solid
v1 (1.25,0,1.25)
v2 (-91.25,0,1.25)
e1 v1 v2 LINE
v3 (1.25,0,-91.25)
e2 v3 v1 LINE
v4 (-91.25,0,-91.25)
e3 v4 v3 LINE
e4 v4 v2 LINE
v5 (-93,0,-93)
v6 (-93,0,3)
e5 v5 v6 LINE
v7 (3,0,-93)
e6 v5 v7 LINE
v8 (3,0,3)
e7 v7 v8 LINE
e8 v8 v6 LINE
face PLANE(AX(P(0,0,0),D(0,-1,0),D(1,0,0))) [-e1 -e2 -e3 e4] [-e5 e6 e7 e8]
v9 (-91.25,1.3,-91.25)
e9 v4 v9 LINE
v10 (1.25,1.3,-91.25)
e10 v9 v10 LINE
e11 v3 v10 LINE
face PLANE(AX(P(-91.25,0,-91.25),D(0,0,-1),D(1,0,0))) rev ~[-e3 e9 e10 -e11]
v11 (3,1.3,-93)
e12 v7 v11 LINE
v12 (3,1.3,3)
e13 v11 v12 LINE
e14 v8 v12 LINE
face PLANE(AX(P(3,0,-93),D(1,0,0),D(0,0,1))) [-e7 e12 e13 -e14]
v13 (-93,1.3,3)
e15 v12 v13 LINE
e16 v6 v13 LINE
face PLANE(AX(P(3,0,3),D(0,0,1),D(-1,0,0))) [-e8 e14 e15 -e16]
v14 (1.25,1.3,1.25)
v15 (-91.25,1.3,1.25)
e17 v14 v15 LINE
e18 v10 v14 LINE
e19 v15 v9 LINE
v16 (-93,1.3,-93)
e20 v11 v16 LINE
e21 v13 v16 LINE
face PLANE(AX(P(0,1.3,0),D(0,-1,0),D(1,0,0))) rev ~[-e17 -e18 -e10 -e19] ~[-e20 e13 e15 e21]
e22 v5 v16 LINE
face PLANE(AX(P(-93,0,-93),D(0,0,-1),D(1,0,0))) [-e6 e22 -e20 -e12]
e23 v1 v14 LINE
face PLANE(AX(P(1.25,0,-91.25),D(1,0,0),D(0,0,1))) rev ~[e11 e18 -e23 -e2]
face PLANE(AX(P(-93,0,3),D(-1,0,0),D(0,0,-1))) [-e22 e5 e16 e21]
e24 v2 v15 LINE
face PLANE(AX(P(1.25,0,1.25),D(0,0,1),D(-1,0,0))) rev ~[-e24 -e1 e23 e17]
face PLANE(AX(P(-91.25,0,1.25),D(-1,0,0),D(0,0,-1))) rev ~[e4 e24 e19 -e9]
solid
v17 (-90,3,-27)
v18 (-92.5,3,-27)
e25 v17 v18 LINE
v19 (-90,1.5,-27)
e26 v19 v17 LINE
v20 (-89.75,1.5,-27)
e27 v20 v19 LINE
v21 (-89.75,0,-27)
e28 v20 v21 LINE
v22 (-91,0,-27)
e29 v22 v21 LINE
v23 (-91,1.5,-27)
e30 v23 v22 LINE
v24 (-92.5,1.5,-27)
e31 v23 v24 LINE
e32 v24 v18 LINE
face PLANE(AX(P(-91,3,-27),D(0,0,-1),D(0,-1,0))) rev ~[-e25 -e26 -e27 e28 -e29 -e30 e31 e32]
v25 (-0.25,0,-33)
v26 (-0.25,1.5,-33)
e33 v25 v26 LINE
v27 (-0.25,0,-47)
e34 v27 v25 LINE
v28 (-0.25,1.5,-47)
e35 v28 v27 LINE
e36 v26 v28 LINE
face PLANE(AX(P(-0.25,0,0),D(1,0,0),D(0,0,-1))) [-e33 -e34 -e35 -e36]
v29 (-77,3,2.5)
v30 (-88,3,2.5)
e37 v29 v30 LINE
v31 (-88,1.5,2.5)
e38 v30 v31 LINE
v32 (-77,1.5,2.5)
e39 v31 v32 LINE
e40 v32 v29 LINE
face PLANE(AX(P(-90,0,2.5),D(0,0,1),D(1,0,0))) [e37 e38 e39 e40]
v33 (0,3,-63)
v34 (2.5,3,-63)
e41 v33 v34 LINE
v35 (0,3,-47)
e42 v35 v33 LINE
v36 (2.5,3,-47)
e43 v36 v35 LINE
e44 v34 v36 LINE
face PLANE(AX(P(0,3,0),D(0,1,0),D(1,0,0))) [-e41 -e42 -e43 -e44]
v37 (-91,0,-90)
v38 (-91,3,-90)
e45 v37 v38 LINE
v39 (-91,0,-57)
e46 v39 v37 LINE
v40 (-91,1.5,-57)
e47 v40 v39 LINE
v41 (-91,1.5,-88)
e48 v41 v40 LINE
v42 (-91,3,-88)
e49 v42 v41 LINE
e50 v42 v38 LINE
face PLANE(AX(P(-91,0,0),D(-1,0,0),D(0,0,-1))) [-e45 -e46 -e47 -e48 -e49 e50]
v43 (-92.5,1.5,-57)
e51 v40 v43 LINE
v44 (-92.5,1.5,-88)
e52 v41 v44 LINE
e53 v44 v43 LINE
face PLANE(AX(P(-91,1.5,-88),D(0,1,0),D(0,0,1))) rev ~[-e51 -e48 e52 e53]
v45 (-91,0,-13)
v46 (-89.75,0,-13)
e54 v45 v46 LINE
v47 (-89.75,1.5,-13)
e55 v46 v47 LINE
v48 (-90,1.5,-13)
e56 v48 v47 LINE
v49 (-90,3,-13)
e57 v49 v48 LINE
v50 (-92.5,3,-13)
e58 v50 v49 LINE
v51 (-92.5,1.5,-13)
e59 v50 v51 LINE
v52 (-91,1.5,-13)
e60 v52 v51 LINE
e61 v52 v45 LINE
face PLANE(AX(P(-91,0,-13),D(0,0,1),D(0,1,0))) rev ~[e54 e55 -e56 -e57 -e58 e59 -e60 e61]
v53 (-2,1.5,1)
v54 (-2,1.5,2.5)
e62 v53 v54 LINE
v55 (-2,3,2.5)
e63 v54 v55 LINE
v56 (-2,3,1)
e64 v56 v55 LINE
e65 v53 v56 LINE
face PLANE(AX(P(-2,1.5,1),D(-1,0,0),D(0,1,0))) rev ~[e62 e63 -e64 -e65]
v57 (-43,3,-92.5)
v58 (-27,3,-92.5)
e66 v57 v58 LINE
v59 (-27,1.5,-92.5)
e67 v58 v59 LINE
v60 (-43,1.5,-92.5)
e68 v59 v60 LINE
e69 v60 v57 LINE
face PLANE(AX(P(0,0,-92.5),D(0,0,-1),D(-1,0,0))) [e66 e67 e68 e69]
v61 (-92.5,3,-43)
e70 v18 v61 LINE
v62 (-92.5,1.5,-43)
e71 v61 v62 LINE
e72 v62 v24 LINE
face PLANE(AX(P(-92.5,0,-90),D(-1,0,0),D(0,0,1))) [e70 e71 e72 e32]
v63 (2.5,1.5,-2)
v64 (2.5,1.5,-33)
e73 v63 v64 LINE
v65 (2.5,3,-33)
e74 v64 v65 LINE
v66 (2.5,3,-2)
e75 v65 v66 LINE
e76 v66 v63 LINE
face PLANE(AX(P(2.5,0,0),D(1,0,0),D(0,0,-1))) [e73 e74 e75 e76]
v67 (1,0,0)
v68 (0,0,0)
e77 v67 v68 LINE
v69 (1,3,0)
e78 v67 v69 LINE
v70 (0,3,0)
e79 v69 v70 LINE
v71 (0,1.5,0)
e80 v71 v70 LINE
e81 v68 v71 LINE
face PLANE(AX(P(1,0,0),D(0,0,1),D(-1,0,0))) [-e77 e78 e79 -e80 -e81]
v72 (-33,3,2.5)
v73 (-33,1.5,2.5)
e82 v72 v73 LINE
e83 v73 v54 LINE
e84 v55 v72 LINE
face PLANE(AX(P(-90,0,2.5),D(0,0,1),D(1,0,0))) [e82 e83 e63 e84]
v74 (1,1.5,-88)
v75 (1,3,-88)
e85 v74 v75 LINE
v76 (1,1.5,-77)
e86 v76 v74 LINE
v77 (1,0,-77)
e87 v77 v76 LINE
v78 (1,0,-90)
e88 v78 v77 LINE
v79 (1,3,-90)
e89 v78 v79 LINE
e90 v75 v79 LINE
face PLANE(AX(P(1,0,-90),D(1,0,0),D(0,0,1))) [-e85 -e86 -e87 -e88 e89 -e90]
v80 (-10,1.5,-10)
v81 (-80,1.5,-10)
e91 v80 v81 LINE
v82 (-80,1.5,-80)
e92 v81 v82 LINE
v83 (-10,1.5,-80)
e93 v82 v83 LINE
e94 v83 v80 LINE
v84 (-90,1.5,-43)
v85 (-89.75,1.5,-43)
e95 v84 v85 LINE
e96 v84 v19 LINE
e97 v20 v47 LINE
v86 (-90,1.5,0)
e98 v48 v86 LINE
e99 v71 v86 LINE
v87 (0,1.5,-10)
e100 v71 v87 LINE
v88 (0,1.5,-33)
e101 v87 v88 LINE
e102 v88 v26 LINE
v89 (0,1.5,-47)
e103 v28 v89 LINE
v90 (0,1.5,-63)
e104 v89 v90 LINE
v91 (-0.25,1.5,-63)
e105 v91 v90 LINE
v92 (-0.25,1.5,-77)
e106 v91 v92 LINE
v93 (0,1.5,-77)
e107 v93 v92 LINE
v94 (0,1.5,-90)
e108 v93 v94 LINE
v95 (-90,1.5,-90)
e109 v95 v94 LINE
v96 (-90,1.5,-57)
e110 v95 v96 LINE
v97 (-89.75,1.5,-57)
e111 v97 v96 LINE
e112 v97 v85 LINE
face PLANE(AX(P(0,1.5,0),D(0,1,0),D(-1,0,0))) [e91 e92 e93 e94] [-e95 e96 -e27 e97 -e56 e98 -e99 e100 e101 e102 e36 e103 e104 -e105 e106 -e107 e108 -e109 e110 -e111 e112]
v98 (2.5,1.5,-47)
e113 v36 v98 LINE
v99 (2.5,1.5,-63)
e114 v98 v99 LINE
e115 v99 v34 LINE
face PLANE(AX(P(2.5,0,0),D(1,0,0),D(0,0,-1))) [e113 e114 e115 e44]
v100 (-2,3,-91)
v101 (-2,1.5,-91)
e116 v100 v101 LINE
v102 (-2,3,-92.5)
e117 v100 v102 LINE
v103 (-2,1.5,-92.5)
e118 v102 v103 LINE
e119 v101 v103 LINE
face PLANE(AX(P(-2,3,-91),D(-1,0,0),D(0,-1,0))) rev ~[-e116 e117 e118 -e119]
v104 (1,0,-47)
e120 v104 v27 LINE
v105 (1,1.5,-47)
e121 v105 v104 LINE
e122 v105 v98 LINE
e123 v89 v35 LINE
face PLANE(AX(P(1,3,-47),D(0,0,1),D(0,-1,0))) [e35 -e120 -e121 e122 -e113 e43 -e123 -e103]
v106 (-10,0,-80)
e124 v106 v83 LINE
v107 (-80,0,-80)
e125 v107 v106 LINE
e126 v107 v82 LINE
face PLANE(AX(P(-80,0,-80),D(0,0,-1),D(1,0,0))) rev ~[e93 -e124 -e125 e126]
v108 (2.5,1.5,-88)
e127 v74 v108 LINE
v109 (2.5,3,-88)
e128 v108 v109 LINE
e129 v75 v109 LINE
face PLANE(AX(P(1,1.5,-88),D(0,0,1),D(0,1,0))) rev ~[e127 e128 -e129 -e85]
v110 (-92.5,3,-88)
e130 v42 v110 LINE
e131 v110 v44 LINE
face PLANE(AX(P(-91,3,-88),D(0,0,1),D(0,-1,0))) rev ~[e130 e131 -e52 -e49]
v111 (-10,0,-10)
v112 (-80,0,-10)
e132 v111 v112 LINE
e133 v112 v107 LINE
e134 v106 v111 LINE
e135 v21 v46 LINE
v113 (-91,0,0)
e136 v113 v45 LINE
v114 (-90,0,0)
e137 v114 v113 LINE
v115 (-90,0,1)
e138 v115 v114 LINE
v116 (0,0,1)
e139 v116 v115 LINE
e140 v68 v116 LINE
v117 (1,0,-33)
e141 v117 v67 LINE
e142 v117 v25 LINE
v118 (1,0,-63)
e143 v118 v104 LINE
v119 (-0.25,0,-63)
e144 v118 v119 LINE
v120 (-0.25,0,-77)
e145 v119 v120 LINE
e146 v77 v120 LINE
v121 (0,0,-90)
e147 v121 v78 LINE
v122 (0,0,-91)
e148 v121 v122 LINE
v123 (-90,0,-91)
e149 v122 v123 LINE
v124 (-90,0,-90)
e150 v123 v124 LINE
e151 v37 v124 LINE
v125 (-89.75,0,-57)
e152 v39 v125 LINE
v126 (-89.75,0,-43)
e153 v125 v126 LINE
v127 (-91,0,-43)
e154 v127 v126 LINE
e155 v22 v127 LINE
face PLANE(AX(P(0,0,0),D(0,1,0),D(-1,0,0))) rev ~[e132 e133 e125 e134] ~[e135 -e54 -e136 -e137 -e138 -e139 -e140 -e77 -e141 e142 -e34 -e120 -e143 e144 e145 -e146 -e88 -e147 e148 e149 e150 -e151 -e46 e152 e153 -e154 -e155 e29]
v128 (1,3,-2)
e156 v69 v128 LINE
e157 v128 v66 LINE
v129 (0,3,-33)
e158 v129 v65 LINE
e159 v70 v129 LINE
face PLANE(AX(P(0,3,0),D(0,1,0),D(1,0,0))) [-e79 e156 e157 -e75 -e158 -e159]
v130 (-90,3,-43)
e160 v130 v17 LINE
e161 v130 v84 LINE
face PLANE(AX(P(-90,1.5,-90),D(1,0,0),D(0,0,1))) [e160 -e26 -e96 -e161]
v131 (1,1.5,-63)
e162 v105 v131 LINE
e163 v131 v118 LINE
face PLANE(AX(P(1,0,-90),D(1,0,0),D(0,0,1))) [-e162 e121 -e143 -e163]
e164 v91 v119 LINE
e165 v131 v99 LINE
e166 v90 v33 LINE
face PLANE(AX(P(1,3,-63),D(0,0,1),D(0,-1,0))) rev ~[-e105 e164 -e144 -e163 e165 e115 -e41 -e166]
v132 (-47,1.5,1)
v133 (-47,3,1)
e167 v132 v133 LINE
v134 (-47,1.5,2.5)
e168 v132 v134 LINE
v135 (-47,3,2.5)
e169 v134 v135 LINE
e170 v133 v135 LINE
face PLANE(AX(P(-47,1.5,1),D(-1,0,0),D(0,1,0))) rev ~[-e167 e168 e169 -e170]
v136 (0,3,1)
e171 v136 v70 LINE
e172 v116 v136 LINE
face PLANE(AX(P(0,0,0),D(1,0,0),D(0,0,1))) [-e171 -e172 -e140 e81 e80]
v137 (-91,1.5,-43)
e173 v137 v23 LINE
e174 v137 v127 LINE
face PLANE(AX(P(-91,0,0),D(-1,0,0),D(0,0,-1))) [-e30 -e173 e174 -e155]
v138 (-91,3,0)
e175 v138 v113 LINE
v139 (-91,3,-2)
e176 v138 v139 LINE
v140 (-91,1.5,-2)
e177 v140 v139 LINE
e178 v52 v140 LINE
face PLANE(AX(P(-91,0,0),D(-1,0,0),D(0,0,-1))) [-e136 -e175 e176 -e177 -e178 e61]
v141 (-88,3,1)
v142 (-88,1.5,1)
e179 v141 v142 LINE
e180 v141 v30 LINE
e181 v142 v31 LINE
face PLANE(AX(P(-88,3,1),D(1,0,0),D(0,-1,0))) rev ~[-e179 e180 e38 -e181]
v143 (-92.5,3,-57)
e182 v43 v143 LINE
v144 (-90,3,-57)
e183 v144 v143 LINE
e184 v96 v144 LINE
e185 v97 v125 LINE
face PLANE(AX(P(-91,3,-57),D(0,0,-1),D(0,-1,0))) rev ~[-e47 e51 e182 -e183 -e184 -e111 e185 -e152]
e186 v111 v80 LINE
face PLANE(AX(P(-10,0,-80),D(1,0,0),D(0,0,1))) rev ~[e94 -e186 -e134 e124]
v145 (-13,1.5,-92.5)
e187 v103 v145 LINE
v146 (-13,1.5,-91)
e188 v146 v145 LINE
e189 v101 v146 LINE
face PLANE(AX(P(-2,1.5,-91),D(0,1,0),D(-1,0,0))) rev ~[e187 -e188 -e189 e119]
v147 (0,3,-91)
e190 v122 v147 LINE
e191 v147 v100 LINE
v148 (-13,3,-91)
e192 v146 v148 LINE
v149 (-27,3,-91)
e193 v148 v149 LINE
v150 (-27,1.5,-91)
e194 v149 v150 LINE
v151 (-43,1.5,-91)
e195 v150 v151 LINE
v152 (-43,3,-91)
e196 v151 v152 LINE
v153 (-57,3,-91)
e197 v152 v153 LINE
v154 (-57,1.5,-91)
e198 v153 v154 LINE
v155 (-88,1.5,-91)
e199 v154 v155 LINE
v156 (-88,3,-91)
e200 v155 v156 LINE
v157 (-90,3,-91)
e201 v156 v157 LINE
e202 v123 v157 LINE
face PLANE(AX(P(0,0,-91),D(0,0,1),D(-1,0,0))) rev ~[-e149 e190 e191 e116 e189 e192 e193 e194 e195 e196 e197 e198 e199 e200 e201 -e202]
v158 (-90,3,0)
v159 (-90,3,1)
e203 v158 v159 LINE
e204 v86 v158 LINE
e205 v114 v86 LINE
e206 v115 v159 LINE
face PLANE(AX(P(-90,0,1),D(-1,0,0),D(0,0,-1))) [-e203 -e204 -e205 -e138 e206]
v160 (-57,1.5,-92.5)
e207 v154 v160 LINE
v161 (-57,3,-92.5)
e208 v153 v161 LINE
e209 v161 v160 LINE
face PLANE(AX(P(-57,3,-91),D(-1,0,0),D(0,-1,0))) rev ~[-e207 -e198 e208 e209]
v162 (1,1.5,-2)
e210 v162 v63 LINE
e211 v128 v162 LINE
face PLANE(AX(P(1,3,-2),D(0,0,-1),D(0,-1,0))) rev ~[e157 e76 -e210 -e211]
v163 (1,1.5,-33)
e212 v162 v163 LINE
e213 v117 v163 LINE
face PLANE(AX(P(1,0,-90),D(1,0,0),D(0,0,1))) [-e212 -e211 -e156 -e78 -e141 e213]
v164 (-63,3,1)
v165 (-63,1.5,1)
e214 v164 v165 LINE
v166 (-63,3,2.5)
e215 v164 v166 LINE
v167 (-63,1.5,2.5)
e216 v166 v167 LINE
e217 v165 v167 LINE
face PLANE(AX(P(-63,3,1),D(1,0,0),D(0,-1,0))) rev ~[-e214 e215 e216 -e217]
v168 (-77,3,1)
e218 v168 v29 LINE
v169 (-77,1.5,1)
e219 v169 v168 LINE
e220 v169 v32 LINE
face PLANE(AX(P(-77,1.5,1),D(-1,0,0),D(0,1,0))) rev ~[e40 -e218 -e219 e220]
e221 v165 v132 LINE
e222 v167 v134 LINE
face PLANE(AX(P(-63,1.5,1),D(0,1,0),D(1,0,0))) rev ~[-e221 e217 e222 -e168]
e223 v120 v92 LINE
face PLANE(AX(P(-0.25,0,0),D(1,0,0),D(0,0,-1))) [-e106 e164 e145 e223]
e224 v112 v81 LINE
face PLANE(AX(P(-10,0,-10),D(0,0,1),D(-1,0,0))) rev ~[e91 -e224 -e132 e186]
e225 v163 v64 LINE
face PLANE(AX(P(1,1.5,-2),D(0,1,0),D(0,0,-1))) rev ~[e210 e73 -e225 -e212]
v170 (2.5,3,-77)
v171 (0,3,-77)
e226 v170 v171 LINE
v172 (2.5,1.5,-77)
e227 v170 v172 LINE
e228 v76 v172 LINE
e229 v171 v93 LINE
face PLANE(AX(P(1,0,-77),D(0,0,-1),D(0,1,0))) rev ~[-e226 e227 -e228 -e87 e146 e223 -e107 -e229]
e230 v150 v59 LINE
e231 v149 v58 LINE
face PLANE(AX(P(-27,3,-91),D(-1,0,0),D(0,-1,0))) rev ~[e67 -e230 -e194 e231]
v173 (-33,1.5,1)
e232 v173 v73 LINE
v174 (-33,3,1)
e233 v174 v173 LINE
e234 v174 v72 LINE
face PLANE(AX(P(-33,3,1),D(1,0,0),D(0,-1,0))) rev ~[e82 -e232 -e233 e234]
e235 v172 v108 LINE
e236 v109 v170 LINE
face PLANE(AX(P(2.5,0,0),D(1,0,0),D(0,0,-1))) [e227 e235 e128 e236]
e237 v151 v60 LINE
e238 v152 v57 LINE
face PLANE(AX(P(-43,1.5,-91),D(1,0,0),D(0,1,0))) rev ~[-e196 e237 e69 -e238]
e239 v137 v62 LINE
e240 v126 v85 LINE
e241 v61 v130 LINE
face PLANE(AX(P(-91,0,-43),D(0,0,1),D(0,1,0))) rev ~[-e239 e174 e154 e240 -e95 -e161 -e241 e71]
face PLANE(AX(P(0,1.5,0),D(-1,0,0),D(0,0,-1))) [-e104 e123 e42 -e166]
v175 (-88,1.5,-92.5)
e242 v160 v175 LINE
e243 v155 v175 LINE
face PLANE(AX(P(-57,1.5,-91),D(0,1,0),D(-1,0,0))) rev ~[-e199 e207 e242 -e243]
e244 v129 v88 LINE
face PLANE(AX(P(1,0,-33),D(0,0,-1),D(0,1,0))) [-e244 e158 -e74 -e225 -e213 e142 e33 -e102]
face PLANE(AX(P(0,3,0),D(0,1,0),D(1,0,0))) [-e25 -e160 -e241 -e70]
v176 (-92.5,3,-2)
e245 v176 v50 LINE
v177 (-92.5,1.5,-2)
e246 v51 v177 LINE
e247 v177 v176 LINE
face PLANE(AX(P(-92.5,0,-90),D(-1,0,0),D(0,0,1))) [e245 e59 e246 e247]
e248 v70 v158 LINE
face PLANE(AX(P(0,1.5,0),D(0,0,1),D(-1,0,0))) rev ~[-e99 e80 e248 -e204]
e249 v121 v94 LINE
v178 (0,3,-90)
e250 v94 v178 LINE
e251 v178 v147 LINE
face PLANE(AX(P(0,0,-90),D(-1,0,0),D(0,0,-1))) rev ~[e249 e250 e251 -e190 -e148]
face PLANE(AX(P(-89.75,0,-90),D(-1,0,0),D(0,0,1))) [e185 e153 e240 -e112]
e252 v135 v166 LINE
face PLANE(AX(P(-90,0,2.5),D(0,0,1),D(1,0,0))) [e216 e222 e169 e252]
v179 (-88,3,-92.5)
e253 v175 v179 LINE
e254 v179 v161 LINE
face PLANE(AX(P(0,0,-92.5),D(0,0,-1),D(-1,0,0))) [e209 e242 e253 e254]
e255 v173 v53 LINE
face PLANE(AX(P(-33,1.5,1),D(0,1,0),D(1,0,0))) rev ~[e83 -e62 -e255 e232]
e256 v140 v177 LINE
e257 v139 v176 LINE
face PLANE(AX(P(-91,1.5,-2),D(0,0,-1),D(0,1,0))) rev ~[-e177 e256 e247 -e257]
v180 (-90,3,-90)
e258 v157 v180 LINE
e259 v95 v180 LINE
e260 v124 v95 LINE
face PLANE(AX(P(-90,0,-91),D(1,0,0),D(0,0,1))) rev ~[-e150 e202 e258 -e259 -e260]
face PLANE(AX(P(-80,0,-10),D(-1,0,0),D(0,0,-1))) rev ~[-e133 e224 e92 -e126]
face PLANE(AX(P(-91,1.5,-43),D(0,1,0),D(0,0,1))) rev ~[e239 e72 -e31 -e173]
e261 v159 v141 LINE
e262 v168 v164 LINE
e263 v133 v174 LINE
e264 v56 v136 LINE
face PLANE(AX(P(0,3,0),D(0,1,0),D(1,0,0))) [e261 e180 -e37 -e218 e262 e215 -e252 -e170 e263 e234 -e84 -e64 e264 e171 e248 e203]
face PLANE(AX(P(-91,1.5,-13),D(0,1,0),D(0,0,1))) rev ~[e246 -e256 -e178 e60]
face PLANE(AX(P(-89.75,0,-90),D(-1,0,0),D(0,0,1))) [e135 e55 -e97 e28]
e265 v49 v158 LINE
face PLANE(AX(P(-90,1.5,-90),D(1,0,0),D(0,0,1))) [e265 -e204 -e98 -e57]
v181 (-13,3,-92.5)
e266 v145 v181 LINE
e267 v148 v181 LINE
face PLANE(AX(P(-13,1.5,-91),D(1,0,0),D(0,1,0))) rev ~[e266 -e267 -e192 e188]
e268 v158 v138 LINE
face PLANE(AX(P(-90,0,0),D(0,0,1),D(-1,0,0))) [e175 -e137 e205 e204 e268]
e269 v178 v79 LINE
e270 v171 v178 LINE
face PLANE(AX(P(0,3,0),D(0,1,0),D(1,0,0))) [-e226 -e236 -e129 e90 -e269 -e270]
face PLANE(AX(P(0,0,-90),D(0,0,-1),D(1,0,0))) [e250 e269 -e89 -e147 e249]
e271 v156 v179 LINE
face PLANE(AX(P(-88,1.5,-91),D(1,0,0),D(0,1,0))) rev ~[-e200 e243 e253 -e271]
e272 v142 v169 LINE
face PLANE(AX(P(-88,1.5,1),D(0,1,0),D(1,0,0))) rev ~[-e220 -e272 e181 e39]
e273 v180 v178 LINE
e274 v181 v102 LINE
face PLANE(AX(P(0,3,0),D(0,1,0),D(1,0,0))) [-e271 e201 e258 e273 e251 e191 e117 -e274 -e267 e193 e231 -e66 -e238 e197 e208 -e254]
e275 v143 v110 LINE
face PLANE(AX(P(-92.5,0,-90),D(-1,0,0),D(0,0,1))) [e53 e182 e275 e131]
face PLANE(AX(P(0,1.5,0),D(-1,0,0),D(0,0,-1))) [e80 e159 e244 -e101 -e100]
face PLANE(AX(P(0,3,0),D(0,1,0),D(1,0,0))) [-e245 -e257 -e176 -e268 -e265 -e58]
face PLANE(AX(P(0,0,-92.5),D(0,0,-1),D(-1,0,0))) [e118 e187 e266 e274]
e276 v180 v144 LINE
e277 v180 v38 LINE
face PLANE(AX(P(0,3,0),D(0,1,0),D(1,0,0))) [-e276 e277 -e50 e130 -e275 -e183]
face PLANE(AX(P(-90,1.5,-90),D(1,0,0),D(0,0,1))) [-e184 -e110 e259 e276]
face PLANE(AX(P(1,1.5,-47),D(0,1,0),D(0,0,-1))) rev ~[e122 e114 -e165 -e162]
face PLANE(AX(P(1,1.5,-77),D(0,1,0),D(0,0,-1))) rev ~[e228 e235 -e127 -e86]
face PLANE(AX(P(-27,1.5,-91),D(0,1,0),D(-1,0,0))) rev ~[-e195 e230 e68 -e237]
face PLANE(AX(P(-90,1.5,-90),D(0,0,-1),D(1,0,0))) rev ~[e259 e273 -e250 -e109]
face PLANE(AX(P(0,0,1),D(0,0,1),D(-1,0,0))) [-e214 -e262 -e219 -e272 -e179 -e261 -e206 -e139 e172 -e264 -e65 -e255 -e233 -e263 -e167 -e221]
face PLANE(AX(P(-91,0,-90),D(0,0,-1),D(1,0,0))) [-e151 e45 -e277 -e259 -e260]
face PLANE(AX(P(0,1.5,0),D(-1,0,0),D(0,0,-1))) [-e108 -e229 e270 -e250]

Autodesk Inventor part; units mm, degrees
ref_plane "YZ Plane" through (0, 0, 0) normal (1, 0, 0) x (0, 1, 0)
ref_plane "XZ Plane" through (0, 0, 0) normal (0, 1, 0) x (-1, 0, 0)
ref_plane "XY Plane" through (0, 0, 0) normal (0, 0, 1) x (1, 0, 0)
sketch "Sketch1" plane through (0, 0, 0) normal (0, 1, 0) x (-1, 0, 0)
  line L0 (0, 0) -> (0, -90)
  line L1 (0, -90) -> (90, -90)
  line L2 (90, -90) -> (90, 0)
  line L3 (90, 0) -> (0, 0)
  line L4 (90, -90) -> (90, 0)
  line L5 (90, -90) -> (0, -90)
  line L6 (0, -90) -> (0, -91)
  line L7 (0, -91) -> (90, -91)
  line L8 (90, -91) -> (90, -90)
  line L9 (0, -90) -> (-1, -90)
  line L10 (-1, -90) -> (-1, 0)
  line L11 (-1, 0) -> (0, 0)
  line L12 (0, 0) -> (0, -90)
  line L13 (90, 0) -> (0, 0)
  line L14 (0, 0) -> (0, 1)
  line L15 (0, 1) -> (90, 1)
  line L16 (90, 1) -> (90, 0)
  line L17 (0, 0) -> (0, -10)
  line L18 (0, -10) -> (10, -10)
  line L19 (10, -10) -> (80, -10)
  line L20 (80, -10) -> (80, -80)
  line L21 (80, -80) -> (10, -80)
  line L22 (10, -80) -> (10, -10)
  line L23 (90, 0) -> (91, 0)
  line L24 (91, 0) -> (91, -90)
  line L25 (91, -90) -> (90, -90)
  line L26 (90, -90) -> (90, 0)
  dimension "d0" = 90
  dimension "d1" = 90
  dimension "d2" = 90
  dimension "d15" = 90
  dimension "d16" = 1
  dimension "d17" = 1
  dimension "d18" = 90
  dimension "d19" = 90
  dimension "d20" = 1
  dimension "d31" = 10
  dimension "d32" = 10
  dimension "d33" = 70
  dimension "d34" = 70
  dimension "d37" = 1
  dimension "d38" = 90
extrude "Extrusion4" add sketch "Sketch1" along normal blind 1.5
sketch "Sketch5" plane through (0, 1.5, 0) normal (0, 1, 0) x (1, 0, 0)
  line L0 (0, -1) -> (0, 0) projected
  line L1 (-90, -1) -> (0, -1) projected
  line L2 (0, 0) -> (-90, 0)
  line L3 (-90, 0) -> (-90, -1)
  line L4 (-90, -1) -> (0, -1)
  line L5 (0, -1) -> (0, 0)
  line L6 (-90, 90) -> (-91, 90) projected
  line L7 (-90, 0) -> (-91, 0)
  line L8 (-91, 0) -> (-91, 90)
  line L9 (-91, 90) -> (-90, 90)
  line L10 (-90, 90) -> (-90, 0)
  line L11 (0, 90) -> (0, 91) projected
  line L12 (-90, 90) -> (0, 90)
  line L13 (0, 90) -> (0, 91)
  line L14 (0, 91) -> (-90, 91)
  line L15 (-90, 91) -> (-90, 90)
  line L16 (1, 0) -> (1, 90) projected
  line L17 (0, 90) -> (1, 90)
  line L18 (1, 90) -> (1, 0)
  line L19 (1, 0) -> (0, 0)
  line L20 (0, 0) -> (0, 90)
  dimension "d85" = 90
  dimension "d86" = 1
extrude "Extrusion5" add sketch "Sketch5" along normal blind 1.5 contours L1 L3 L2 L0 | L20 L17 L16 L19 | L7 L8 L6 L10 | L12 L15 L14 L11
sketch "Sketch6" plane through (-90, 0, 1) normal (0, 0, 1) x (1, 0, 0)
  line L0 (90, 0) -> (90, 3) projected
  line L1 (90, 3) -> (88, 3)
  line L2 (90, 3) -> (0, 3) projected
  line L3 (88, 3) -> (57, 3)
  line L4 (57, 3) -> (57, 1.5)
  line L5 (57, 1.5) -> (88, 1.5)
  line L6 (88, 1.5) -> (88, 3)
  line L7 (57, 3) -> (43, 3)
  line L8 (43, 3) -> (27, 3)
  line L9 (27, 3) -> (27, 1.5)
  line L10 (27, 1.5) -> (43, 1.5)
  line L11 (43, 1.5) -> (43, 3)
  line L12 (27, 3) -> (13, 3)
  line L13 (13, 3) -> (2, 3)
  line L14 (2, 3) -> (2, 1.5)
  line L15 (2, 1.5) -> (13, 1.5)
  line L16 (13, 1.5) -> (13, 3)
  line L17 (2, 3) -> (0, 3)
  dimension "d41" = 2
  dimension "d42" = 31
  dimension "d43" = 1.5
  dimension "d44" = 14
  dimension "d45" = 16
  dimension "d46" = 1.5
  dimension "d47" = 14
  dimension "d48" = 11
  dimension "d49" = 1.5
extrude "Extrusion6" add sketch "Sketch6" along normal blind 1.5
sketch "Sketch9" plane through (0, 0, -91) normal (0, 0, -1) x (-1, 0, 0)
  line L0 (90, 0) -> (90, 3)
  line L1 (90, 3) -> (88, 3)
  line L2 (90, 3) -> (0, 3)
  line L3 (88, 3) -> (57, 3)
  line L4 (57, 3) -> (57, 1.5)
  line L5 (57, 1.5) -> (88, 1.5)
  line L6 (88, 1.5) -> (88, 3)
  line L7 (57, 3) -> (43, 3)
  line L8 (43, 3) -> (27, 3)
  line L9 (27, 3) -> (27, 1.5)
  line L10 (27, 1.5) -> (43, 1.5)
  line L11 (43, 1.5) -> (43, 3)
  line L12 (27, 3) -> (13, 3)
  line L13 (13, 3) -> (2, 3)
  line L14 (2, 3) -> (2, 1.5)
  line L15 (2, 1.5) -> (13, 1.5)
  line L16 (13, 1.5) -> (13, 3)
  line L17 (2, 3) -> (0, 3)
  point P0 (0, 0)
  dimension "d52" = 2
  dimension "d53" = 31
  dimension "d54" = 1.5
  dimension "d55" = 14
  dimension "d56" = 16
  dimension "d57" = 1.5
  dimension "d58" = 14
  dimension "d59" = 11
  dimension "d60" = 1.5
extrude "Extrusion7" add sketch "Sketch9" along normal blind 1.5
sketch "Sketch7" plane through (-91, 0, -90) normal (-1, 0, 0) x (0, 0, 1)
  line L0 (90, 1.5) -> (90, 3) projected
  line L1 (90, 3) -> (88, 3)
  line L2 (90, 3) -> (0, 3) projected
  line L3 (88, 3) -> (77, 3)
  line L4 (77, 3) -> (77, 1.5)
  line L5 (77, 1.5) -> (88, 1.5)
  line L6 (88, 1.5) -> (88, 3)
  line L7 (77, 3) -> (63, 3)
  line L8 (63, 3) -> (47, 3)
  line L9 (47, 3) -> (47, 1.5)
  line L10 (47, 1.5) -> (63, 1.5)
  line L11 (63, 1.5) -> (63, 3)
  line L12 (47, 3) -> (33, 3)
  line L13 (33, 3) -> (2, 3)
  line L14 (2, 3) -> (2, 1.5)
  line L15 (2, 1.5) -> (33, 1.5)
  line L16 (33, 1.5) -> (33, 3)
  line L17 (0, 0) -> (0, 3) projected
  line L18 (2, 3) -> (0, 3)
  point P0 (90, 0)
  dimension "d63" = 2
  dimension "d64" = 11
  dimension "d65" = 1.5
  dimension "d66" = 14
  dimension "d67" = 16
  dimension "d68" = 1.5
  dimension "d69" = 14
  dimension "d70" = 31
  dimension "d71" = 1.5
extrude "Extrusion8" add sketch "Sketch7" along normal blind 1.5
sketch "Sketch8" plane through (1, 0, 0) normal (1, 0, 0) x (0, 0, -1)
  line L0 (90, 1.5) -> (90, 3)
  line L1 (90, 3) -> (88, 3)
  line L2 (90, 3) -> (0, 3)
  line L3 (88, 3) -> (77, 3)
  line L4 (77, 3) -> (77, 1.5)
  line L5 (77, 1.5) -> (88, 1.5)
  line L6 (88, 1.5) -> (88, 3)
  line L7 (77, 3) -> (63, 3)
  line L8 (63, 3) -> (47, 3)
  line L9 (47, 3) -> (47, 1.5)
  line L10 (47, 1.5) -> (63, 1.5)
  line L11 (63, 1.5) -> (63, 3)
  line L12 (47, 3) -> (33, 3)
  line L13 (33, 3) -> (2, 3)
  line L14 (2, 3) -> (2, 1.5)
  line L15 (2, 1.5) -> (33, 1.5)
  line L16 (33, 1.5) -> (33, 3)
  line L17 (0, 0) -> (0, 3)
  line L18 (2, 3) -> (0, 3)
  point P0 (0, 0)
  point P1 (90, 0)
  dimension "d74" = 2
  dimension "d75" = 11
  dimension "d76" = 1.5
  dimension "d77" = 14
  dimension "d78" = 16
  dimension "d79" = 1.5
  dimension "d80" = 14
  dimension "d81" = 31
  dimension "d82" = 1.5
extrude "Extrusion9" add sketch "Sketch8" along normal blind 1.5
sketch "Sketch11" plane through (-90, 0, 1) normal (0, 0, 1) x (1, 0, 0)
  line L0 (0, 0) -> (90, 0) projected
  line L1 (0, 3) -> (2, 3) projected
  dimension "d87" = 3
sketch "Sketch12" plane through (0, 3, 0) normal (0, 1, 0) x (1, 0, 0)
  line L0 (-2, -2.5) -> (-33, -2.5) projected
  line L1 (0, 0) -> (-90, 0) projected
  dimension "d88" = 2.5
sketch "Sketch13" plane through (-91, 0, -90) normal (-1, 0, 0) x (0, 0, 1)
  line L0 (77, 1.5) -> (77, 3) projected
  line L1 (77, 3) -> (63, 3)
  line L2 (63, 3) -> (63, 0)
  line L3 (63, 0) -> (77, 0)
  line L4 (77, 0) -> (77, 3)
  line L5 (47, 1.5) -> (47, 3) projected
  line L6 (47, 3) -> (33, 3)
  line L7 (33, 3) -> (33, 0)
  line L8 (33, 0) -> (47, 0)
  line L9 (47, 0) -> (47, 3)
  point P0 (90, 0)
  dimension "d89" = 14
  dimension "d90" = 3
  dimension "d91" = 14
  dimension "d92" = 3
extrude "Extrusion10" cut sketch "Sketch13" against normal blind 1.25
sketch "Sketch14" plane through (1, 0, 0) normal (1, 0, 0) x (0, 0, -1)
  line L0 (33, 3) -> (47, 3)
  line L1 (47, 3) -> (47, 0)
  line L2 (47, 0) -> (33, 0)
  line L3 (33, 0) -> (33, 3)
  line L4 (77, 3) -> (63, 3)
  line L5 (63, 3) -> (63, 0)
  line L6 (63, 0) -> (77, 0)
  line L7 (77, 0) -> (77, 3)
  point P0 (0, 0)
  dimension "d95" = 14
  dimension "d96" = 3
  dimension "d97" = 14
  dimension "d98" = 3
extrude "Extrusion11" cut sketch "Sketch14" against normal blind 1.25
sketch "Sketch15" plane through (0, 0, 0) normal (0, -1, 0) x (1, 0, 0)
  line L0 (-90, -90) -> (-91, -90) projected
  line L1 (-91, -90) -> (-91.25, -90)
  line L2 (-91, -90) -> (-90.75, -90) construction
  line L3 (-91.25, -90) -> (-91.25, -91.25)
  line L4 (-91.25, -91.25) -> (1.25, -91.25)
  line L5 (1.25, -91.25) -> (1.25, 1.25)
  line L6 (1.25, 1.25) -> (-91.25, 1.25)
  line L7 (-91.25, 1.25) -> (-91.25, -91.25)
  line L8 (-93, -93) -> (3, -93)
  line L9 (3, -93) -> (3, 3)
  line L10 (3, 3) -> (-93, 3)
  line L11 (-93, 3) -> (-93, -93)
  line L12 (-91.25, -91.25) -> (-91.25, -93)
  line L13 (-91.25, -91.25) -> (-93, -91.25)
  point P0 (0, 0)
  dimension "d101" = 0.25
  dimension "d102" = 180
  dimension "d103" = 1.25
  dimension "d104" = 92.5
  dimension "d105" = 92.5
  dimension "d106" = 96
  dimension "d107" = 96
  dimension "d108" = 1.75
  dimension "d109" = 1.75
extrude "Extrusion12" add sketch "Sketch15" against normal blind 1.3
properties part number "Slide_Final"
